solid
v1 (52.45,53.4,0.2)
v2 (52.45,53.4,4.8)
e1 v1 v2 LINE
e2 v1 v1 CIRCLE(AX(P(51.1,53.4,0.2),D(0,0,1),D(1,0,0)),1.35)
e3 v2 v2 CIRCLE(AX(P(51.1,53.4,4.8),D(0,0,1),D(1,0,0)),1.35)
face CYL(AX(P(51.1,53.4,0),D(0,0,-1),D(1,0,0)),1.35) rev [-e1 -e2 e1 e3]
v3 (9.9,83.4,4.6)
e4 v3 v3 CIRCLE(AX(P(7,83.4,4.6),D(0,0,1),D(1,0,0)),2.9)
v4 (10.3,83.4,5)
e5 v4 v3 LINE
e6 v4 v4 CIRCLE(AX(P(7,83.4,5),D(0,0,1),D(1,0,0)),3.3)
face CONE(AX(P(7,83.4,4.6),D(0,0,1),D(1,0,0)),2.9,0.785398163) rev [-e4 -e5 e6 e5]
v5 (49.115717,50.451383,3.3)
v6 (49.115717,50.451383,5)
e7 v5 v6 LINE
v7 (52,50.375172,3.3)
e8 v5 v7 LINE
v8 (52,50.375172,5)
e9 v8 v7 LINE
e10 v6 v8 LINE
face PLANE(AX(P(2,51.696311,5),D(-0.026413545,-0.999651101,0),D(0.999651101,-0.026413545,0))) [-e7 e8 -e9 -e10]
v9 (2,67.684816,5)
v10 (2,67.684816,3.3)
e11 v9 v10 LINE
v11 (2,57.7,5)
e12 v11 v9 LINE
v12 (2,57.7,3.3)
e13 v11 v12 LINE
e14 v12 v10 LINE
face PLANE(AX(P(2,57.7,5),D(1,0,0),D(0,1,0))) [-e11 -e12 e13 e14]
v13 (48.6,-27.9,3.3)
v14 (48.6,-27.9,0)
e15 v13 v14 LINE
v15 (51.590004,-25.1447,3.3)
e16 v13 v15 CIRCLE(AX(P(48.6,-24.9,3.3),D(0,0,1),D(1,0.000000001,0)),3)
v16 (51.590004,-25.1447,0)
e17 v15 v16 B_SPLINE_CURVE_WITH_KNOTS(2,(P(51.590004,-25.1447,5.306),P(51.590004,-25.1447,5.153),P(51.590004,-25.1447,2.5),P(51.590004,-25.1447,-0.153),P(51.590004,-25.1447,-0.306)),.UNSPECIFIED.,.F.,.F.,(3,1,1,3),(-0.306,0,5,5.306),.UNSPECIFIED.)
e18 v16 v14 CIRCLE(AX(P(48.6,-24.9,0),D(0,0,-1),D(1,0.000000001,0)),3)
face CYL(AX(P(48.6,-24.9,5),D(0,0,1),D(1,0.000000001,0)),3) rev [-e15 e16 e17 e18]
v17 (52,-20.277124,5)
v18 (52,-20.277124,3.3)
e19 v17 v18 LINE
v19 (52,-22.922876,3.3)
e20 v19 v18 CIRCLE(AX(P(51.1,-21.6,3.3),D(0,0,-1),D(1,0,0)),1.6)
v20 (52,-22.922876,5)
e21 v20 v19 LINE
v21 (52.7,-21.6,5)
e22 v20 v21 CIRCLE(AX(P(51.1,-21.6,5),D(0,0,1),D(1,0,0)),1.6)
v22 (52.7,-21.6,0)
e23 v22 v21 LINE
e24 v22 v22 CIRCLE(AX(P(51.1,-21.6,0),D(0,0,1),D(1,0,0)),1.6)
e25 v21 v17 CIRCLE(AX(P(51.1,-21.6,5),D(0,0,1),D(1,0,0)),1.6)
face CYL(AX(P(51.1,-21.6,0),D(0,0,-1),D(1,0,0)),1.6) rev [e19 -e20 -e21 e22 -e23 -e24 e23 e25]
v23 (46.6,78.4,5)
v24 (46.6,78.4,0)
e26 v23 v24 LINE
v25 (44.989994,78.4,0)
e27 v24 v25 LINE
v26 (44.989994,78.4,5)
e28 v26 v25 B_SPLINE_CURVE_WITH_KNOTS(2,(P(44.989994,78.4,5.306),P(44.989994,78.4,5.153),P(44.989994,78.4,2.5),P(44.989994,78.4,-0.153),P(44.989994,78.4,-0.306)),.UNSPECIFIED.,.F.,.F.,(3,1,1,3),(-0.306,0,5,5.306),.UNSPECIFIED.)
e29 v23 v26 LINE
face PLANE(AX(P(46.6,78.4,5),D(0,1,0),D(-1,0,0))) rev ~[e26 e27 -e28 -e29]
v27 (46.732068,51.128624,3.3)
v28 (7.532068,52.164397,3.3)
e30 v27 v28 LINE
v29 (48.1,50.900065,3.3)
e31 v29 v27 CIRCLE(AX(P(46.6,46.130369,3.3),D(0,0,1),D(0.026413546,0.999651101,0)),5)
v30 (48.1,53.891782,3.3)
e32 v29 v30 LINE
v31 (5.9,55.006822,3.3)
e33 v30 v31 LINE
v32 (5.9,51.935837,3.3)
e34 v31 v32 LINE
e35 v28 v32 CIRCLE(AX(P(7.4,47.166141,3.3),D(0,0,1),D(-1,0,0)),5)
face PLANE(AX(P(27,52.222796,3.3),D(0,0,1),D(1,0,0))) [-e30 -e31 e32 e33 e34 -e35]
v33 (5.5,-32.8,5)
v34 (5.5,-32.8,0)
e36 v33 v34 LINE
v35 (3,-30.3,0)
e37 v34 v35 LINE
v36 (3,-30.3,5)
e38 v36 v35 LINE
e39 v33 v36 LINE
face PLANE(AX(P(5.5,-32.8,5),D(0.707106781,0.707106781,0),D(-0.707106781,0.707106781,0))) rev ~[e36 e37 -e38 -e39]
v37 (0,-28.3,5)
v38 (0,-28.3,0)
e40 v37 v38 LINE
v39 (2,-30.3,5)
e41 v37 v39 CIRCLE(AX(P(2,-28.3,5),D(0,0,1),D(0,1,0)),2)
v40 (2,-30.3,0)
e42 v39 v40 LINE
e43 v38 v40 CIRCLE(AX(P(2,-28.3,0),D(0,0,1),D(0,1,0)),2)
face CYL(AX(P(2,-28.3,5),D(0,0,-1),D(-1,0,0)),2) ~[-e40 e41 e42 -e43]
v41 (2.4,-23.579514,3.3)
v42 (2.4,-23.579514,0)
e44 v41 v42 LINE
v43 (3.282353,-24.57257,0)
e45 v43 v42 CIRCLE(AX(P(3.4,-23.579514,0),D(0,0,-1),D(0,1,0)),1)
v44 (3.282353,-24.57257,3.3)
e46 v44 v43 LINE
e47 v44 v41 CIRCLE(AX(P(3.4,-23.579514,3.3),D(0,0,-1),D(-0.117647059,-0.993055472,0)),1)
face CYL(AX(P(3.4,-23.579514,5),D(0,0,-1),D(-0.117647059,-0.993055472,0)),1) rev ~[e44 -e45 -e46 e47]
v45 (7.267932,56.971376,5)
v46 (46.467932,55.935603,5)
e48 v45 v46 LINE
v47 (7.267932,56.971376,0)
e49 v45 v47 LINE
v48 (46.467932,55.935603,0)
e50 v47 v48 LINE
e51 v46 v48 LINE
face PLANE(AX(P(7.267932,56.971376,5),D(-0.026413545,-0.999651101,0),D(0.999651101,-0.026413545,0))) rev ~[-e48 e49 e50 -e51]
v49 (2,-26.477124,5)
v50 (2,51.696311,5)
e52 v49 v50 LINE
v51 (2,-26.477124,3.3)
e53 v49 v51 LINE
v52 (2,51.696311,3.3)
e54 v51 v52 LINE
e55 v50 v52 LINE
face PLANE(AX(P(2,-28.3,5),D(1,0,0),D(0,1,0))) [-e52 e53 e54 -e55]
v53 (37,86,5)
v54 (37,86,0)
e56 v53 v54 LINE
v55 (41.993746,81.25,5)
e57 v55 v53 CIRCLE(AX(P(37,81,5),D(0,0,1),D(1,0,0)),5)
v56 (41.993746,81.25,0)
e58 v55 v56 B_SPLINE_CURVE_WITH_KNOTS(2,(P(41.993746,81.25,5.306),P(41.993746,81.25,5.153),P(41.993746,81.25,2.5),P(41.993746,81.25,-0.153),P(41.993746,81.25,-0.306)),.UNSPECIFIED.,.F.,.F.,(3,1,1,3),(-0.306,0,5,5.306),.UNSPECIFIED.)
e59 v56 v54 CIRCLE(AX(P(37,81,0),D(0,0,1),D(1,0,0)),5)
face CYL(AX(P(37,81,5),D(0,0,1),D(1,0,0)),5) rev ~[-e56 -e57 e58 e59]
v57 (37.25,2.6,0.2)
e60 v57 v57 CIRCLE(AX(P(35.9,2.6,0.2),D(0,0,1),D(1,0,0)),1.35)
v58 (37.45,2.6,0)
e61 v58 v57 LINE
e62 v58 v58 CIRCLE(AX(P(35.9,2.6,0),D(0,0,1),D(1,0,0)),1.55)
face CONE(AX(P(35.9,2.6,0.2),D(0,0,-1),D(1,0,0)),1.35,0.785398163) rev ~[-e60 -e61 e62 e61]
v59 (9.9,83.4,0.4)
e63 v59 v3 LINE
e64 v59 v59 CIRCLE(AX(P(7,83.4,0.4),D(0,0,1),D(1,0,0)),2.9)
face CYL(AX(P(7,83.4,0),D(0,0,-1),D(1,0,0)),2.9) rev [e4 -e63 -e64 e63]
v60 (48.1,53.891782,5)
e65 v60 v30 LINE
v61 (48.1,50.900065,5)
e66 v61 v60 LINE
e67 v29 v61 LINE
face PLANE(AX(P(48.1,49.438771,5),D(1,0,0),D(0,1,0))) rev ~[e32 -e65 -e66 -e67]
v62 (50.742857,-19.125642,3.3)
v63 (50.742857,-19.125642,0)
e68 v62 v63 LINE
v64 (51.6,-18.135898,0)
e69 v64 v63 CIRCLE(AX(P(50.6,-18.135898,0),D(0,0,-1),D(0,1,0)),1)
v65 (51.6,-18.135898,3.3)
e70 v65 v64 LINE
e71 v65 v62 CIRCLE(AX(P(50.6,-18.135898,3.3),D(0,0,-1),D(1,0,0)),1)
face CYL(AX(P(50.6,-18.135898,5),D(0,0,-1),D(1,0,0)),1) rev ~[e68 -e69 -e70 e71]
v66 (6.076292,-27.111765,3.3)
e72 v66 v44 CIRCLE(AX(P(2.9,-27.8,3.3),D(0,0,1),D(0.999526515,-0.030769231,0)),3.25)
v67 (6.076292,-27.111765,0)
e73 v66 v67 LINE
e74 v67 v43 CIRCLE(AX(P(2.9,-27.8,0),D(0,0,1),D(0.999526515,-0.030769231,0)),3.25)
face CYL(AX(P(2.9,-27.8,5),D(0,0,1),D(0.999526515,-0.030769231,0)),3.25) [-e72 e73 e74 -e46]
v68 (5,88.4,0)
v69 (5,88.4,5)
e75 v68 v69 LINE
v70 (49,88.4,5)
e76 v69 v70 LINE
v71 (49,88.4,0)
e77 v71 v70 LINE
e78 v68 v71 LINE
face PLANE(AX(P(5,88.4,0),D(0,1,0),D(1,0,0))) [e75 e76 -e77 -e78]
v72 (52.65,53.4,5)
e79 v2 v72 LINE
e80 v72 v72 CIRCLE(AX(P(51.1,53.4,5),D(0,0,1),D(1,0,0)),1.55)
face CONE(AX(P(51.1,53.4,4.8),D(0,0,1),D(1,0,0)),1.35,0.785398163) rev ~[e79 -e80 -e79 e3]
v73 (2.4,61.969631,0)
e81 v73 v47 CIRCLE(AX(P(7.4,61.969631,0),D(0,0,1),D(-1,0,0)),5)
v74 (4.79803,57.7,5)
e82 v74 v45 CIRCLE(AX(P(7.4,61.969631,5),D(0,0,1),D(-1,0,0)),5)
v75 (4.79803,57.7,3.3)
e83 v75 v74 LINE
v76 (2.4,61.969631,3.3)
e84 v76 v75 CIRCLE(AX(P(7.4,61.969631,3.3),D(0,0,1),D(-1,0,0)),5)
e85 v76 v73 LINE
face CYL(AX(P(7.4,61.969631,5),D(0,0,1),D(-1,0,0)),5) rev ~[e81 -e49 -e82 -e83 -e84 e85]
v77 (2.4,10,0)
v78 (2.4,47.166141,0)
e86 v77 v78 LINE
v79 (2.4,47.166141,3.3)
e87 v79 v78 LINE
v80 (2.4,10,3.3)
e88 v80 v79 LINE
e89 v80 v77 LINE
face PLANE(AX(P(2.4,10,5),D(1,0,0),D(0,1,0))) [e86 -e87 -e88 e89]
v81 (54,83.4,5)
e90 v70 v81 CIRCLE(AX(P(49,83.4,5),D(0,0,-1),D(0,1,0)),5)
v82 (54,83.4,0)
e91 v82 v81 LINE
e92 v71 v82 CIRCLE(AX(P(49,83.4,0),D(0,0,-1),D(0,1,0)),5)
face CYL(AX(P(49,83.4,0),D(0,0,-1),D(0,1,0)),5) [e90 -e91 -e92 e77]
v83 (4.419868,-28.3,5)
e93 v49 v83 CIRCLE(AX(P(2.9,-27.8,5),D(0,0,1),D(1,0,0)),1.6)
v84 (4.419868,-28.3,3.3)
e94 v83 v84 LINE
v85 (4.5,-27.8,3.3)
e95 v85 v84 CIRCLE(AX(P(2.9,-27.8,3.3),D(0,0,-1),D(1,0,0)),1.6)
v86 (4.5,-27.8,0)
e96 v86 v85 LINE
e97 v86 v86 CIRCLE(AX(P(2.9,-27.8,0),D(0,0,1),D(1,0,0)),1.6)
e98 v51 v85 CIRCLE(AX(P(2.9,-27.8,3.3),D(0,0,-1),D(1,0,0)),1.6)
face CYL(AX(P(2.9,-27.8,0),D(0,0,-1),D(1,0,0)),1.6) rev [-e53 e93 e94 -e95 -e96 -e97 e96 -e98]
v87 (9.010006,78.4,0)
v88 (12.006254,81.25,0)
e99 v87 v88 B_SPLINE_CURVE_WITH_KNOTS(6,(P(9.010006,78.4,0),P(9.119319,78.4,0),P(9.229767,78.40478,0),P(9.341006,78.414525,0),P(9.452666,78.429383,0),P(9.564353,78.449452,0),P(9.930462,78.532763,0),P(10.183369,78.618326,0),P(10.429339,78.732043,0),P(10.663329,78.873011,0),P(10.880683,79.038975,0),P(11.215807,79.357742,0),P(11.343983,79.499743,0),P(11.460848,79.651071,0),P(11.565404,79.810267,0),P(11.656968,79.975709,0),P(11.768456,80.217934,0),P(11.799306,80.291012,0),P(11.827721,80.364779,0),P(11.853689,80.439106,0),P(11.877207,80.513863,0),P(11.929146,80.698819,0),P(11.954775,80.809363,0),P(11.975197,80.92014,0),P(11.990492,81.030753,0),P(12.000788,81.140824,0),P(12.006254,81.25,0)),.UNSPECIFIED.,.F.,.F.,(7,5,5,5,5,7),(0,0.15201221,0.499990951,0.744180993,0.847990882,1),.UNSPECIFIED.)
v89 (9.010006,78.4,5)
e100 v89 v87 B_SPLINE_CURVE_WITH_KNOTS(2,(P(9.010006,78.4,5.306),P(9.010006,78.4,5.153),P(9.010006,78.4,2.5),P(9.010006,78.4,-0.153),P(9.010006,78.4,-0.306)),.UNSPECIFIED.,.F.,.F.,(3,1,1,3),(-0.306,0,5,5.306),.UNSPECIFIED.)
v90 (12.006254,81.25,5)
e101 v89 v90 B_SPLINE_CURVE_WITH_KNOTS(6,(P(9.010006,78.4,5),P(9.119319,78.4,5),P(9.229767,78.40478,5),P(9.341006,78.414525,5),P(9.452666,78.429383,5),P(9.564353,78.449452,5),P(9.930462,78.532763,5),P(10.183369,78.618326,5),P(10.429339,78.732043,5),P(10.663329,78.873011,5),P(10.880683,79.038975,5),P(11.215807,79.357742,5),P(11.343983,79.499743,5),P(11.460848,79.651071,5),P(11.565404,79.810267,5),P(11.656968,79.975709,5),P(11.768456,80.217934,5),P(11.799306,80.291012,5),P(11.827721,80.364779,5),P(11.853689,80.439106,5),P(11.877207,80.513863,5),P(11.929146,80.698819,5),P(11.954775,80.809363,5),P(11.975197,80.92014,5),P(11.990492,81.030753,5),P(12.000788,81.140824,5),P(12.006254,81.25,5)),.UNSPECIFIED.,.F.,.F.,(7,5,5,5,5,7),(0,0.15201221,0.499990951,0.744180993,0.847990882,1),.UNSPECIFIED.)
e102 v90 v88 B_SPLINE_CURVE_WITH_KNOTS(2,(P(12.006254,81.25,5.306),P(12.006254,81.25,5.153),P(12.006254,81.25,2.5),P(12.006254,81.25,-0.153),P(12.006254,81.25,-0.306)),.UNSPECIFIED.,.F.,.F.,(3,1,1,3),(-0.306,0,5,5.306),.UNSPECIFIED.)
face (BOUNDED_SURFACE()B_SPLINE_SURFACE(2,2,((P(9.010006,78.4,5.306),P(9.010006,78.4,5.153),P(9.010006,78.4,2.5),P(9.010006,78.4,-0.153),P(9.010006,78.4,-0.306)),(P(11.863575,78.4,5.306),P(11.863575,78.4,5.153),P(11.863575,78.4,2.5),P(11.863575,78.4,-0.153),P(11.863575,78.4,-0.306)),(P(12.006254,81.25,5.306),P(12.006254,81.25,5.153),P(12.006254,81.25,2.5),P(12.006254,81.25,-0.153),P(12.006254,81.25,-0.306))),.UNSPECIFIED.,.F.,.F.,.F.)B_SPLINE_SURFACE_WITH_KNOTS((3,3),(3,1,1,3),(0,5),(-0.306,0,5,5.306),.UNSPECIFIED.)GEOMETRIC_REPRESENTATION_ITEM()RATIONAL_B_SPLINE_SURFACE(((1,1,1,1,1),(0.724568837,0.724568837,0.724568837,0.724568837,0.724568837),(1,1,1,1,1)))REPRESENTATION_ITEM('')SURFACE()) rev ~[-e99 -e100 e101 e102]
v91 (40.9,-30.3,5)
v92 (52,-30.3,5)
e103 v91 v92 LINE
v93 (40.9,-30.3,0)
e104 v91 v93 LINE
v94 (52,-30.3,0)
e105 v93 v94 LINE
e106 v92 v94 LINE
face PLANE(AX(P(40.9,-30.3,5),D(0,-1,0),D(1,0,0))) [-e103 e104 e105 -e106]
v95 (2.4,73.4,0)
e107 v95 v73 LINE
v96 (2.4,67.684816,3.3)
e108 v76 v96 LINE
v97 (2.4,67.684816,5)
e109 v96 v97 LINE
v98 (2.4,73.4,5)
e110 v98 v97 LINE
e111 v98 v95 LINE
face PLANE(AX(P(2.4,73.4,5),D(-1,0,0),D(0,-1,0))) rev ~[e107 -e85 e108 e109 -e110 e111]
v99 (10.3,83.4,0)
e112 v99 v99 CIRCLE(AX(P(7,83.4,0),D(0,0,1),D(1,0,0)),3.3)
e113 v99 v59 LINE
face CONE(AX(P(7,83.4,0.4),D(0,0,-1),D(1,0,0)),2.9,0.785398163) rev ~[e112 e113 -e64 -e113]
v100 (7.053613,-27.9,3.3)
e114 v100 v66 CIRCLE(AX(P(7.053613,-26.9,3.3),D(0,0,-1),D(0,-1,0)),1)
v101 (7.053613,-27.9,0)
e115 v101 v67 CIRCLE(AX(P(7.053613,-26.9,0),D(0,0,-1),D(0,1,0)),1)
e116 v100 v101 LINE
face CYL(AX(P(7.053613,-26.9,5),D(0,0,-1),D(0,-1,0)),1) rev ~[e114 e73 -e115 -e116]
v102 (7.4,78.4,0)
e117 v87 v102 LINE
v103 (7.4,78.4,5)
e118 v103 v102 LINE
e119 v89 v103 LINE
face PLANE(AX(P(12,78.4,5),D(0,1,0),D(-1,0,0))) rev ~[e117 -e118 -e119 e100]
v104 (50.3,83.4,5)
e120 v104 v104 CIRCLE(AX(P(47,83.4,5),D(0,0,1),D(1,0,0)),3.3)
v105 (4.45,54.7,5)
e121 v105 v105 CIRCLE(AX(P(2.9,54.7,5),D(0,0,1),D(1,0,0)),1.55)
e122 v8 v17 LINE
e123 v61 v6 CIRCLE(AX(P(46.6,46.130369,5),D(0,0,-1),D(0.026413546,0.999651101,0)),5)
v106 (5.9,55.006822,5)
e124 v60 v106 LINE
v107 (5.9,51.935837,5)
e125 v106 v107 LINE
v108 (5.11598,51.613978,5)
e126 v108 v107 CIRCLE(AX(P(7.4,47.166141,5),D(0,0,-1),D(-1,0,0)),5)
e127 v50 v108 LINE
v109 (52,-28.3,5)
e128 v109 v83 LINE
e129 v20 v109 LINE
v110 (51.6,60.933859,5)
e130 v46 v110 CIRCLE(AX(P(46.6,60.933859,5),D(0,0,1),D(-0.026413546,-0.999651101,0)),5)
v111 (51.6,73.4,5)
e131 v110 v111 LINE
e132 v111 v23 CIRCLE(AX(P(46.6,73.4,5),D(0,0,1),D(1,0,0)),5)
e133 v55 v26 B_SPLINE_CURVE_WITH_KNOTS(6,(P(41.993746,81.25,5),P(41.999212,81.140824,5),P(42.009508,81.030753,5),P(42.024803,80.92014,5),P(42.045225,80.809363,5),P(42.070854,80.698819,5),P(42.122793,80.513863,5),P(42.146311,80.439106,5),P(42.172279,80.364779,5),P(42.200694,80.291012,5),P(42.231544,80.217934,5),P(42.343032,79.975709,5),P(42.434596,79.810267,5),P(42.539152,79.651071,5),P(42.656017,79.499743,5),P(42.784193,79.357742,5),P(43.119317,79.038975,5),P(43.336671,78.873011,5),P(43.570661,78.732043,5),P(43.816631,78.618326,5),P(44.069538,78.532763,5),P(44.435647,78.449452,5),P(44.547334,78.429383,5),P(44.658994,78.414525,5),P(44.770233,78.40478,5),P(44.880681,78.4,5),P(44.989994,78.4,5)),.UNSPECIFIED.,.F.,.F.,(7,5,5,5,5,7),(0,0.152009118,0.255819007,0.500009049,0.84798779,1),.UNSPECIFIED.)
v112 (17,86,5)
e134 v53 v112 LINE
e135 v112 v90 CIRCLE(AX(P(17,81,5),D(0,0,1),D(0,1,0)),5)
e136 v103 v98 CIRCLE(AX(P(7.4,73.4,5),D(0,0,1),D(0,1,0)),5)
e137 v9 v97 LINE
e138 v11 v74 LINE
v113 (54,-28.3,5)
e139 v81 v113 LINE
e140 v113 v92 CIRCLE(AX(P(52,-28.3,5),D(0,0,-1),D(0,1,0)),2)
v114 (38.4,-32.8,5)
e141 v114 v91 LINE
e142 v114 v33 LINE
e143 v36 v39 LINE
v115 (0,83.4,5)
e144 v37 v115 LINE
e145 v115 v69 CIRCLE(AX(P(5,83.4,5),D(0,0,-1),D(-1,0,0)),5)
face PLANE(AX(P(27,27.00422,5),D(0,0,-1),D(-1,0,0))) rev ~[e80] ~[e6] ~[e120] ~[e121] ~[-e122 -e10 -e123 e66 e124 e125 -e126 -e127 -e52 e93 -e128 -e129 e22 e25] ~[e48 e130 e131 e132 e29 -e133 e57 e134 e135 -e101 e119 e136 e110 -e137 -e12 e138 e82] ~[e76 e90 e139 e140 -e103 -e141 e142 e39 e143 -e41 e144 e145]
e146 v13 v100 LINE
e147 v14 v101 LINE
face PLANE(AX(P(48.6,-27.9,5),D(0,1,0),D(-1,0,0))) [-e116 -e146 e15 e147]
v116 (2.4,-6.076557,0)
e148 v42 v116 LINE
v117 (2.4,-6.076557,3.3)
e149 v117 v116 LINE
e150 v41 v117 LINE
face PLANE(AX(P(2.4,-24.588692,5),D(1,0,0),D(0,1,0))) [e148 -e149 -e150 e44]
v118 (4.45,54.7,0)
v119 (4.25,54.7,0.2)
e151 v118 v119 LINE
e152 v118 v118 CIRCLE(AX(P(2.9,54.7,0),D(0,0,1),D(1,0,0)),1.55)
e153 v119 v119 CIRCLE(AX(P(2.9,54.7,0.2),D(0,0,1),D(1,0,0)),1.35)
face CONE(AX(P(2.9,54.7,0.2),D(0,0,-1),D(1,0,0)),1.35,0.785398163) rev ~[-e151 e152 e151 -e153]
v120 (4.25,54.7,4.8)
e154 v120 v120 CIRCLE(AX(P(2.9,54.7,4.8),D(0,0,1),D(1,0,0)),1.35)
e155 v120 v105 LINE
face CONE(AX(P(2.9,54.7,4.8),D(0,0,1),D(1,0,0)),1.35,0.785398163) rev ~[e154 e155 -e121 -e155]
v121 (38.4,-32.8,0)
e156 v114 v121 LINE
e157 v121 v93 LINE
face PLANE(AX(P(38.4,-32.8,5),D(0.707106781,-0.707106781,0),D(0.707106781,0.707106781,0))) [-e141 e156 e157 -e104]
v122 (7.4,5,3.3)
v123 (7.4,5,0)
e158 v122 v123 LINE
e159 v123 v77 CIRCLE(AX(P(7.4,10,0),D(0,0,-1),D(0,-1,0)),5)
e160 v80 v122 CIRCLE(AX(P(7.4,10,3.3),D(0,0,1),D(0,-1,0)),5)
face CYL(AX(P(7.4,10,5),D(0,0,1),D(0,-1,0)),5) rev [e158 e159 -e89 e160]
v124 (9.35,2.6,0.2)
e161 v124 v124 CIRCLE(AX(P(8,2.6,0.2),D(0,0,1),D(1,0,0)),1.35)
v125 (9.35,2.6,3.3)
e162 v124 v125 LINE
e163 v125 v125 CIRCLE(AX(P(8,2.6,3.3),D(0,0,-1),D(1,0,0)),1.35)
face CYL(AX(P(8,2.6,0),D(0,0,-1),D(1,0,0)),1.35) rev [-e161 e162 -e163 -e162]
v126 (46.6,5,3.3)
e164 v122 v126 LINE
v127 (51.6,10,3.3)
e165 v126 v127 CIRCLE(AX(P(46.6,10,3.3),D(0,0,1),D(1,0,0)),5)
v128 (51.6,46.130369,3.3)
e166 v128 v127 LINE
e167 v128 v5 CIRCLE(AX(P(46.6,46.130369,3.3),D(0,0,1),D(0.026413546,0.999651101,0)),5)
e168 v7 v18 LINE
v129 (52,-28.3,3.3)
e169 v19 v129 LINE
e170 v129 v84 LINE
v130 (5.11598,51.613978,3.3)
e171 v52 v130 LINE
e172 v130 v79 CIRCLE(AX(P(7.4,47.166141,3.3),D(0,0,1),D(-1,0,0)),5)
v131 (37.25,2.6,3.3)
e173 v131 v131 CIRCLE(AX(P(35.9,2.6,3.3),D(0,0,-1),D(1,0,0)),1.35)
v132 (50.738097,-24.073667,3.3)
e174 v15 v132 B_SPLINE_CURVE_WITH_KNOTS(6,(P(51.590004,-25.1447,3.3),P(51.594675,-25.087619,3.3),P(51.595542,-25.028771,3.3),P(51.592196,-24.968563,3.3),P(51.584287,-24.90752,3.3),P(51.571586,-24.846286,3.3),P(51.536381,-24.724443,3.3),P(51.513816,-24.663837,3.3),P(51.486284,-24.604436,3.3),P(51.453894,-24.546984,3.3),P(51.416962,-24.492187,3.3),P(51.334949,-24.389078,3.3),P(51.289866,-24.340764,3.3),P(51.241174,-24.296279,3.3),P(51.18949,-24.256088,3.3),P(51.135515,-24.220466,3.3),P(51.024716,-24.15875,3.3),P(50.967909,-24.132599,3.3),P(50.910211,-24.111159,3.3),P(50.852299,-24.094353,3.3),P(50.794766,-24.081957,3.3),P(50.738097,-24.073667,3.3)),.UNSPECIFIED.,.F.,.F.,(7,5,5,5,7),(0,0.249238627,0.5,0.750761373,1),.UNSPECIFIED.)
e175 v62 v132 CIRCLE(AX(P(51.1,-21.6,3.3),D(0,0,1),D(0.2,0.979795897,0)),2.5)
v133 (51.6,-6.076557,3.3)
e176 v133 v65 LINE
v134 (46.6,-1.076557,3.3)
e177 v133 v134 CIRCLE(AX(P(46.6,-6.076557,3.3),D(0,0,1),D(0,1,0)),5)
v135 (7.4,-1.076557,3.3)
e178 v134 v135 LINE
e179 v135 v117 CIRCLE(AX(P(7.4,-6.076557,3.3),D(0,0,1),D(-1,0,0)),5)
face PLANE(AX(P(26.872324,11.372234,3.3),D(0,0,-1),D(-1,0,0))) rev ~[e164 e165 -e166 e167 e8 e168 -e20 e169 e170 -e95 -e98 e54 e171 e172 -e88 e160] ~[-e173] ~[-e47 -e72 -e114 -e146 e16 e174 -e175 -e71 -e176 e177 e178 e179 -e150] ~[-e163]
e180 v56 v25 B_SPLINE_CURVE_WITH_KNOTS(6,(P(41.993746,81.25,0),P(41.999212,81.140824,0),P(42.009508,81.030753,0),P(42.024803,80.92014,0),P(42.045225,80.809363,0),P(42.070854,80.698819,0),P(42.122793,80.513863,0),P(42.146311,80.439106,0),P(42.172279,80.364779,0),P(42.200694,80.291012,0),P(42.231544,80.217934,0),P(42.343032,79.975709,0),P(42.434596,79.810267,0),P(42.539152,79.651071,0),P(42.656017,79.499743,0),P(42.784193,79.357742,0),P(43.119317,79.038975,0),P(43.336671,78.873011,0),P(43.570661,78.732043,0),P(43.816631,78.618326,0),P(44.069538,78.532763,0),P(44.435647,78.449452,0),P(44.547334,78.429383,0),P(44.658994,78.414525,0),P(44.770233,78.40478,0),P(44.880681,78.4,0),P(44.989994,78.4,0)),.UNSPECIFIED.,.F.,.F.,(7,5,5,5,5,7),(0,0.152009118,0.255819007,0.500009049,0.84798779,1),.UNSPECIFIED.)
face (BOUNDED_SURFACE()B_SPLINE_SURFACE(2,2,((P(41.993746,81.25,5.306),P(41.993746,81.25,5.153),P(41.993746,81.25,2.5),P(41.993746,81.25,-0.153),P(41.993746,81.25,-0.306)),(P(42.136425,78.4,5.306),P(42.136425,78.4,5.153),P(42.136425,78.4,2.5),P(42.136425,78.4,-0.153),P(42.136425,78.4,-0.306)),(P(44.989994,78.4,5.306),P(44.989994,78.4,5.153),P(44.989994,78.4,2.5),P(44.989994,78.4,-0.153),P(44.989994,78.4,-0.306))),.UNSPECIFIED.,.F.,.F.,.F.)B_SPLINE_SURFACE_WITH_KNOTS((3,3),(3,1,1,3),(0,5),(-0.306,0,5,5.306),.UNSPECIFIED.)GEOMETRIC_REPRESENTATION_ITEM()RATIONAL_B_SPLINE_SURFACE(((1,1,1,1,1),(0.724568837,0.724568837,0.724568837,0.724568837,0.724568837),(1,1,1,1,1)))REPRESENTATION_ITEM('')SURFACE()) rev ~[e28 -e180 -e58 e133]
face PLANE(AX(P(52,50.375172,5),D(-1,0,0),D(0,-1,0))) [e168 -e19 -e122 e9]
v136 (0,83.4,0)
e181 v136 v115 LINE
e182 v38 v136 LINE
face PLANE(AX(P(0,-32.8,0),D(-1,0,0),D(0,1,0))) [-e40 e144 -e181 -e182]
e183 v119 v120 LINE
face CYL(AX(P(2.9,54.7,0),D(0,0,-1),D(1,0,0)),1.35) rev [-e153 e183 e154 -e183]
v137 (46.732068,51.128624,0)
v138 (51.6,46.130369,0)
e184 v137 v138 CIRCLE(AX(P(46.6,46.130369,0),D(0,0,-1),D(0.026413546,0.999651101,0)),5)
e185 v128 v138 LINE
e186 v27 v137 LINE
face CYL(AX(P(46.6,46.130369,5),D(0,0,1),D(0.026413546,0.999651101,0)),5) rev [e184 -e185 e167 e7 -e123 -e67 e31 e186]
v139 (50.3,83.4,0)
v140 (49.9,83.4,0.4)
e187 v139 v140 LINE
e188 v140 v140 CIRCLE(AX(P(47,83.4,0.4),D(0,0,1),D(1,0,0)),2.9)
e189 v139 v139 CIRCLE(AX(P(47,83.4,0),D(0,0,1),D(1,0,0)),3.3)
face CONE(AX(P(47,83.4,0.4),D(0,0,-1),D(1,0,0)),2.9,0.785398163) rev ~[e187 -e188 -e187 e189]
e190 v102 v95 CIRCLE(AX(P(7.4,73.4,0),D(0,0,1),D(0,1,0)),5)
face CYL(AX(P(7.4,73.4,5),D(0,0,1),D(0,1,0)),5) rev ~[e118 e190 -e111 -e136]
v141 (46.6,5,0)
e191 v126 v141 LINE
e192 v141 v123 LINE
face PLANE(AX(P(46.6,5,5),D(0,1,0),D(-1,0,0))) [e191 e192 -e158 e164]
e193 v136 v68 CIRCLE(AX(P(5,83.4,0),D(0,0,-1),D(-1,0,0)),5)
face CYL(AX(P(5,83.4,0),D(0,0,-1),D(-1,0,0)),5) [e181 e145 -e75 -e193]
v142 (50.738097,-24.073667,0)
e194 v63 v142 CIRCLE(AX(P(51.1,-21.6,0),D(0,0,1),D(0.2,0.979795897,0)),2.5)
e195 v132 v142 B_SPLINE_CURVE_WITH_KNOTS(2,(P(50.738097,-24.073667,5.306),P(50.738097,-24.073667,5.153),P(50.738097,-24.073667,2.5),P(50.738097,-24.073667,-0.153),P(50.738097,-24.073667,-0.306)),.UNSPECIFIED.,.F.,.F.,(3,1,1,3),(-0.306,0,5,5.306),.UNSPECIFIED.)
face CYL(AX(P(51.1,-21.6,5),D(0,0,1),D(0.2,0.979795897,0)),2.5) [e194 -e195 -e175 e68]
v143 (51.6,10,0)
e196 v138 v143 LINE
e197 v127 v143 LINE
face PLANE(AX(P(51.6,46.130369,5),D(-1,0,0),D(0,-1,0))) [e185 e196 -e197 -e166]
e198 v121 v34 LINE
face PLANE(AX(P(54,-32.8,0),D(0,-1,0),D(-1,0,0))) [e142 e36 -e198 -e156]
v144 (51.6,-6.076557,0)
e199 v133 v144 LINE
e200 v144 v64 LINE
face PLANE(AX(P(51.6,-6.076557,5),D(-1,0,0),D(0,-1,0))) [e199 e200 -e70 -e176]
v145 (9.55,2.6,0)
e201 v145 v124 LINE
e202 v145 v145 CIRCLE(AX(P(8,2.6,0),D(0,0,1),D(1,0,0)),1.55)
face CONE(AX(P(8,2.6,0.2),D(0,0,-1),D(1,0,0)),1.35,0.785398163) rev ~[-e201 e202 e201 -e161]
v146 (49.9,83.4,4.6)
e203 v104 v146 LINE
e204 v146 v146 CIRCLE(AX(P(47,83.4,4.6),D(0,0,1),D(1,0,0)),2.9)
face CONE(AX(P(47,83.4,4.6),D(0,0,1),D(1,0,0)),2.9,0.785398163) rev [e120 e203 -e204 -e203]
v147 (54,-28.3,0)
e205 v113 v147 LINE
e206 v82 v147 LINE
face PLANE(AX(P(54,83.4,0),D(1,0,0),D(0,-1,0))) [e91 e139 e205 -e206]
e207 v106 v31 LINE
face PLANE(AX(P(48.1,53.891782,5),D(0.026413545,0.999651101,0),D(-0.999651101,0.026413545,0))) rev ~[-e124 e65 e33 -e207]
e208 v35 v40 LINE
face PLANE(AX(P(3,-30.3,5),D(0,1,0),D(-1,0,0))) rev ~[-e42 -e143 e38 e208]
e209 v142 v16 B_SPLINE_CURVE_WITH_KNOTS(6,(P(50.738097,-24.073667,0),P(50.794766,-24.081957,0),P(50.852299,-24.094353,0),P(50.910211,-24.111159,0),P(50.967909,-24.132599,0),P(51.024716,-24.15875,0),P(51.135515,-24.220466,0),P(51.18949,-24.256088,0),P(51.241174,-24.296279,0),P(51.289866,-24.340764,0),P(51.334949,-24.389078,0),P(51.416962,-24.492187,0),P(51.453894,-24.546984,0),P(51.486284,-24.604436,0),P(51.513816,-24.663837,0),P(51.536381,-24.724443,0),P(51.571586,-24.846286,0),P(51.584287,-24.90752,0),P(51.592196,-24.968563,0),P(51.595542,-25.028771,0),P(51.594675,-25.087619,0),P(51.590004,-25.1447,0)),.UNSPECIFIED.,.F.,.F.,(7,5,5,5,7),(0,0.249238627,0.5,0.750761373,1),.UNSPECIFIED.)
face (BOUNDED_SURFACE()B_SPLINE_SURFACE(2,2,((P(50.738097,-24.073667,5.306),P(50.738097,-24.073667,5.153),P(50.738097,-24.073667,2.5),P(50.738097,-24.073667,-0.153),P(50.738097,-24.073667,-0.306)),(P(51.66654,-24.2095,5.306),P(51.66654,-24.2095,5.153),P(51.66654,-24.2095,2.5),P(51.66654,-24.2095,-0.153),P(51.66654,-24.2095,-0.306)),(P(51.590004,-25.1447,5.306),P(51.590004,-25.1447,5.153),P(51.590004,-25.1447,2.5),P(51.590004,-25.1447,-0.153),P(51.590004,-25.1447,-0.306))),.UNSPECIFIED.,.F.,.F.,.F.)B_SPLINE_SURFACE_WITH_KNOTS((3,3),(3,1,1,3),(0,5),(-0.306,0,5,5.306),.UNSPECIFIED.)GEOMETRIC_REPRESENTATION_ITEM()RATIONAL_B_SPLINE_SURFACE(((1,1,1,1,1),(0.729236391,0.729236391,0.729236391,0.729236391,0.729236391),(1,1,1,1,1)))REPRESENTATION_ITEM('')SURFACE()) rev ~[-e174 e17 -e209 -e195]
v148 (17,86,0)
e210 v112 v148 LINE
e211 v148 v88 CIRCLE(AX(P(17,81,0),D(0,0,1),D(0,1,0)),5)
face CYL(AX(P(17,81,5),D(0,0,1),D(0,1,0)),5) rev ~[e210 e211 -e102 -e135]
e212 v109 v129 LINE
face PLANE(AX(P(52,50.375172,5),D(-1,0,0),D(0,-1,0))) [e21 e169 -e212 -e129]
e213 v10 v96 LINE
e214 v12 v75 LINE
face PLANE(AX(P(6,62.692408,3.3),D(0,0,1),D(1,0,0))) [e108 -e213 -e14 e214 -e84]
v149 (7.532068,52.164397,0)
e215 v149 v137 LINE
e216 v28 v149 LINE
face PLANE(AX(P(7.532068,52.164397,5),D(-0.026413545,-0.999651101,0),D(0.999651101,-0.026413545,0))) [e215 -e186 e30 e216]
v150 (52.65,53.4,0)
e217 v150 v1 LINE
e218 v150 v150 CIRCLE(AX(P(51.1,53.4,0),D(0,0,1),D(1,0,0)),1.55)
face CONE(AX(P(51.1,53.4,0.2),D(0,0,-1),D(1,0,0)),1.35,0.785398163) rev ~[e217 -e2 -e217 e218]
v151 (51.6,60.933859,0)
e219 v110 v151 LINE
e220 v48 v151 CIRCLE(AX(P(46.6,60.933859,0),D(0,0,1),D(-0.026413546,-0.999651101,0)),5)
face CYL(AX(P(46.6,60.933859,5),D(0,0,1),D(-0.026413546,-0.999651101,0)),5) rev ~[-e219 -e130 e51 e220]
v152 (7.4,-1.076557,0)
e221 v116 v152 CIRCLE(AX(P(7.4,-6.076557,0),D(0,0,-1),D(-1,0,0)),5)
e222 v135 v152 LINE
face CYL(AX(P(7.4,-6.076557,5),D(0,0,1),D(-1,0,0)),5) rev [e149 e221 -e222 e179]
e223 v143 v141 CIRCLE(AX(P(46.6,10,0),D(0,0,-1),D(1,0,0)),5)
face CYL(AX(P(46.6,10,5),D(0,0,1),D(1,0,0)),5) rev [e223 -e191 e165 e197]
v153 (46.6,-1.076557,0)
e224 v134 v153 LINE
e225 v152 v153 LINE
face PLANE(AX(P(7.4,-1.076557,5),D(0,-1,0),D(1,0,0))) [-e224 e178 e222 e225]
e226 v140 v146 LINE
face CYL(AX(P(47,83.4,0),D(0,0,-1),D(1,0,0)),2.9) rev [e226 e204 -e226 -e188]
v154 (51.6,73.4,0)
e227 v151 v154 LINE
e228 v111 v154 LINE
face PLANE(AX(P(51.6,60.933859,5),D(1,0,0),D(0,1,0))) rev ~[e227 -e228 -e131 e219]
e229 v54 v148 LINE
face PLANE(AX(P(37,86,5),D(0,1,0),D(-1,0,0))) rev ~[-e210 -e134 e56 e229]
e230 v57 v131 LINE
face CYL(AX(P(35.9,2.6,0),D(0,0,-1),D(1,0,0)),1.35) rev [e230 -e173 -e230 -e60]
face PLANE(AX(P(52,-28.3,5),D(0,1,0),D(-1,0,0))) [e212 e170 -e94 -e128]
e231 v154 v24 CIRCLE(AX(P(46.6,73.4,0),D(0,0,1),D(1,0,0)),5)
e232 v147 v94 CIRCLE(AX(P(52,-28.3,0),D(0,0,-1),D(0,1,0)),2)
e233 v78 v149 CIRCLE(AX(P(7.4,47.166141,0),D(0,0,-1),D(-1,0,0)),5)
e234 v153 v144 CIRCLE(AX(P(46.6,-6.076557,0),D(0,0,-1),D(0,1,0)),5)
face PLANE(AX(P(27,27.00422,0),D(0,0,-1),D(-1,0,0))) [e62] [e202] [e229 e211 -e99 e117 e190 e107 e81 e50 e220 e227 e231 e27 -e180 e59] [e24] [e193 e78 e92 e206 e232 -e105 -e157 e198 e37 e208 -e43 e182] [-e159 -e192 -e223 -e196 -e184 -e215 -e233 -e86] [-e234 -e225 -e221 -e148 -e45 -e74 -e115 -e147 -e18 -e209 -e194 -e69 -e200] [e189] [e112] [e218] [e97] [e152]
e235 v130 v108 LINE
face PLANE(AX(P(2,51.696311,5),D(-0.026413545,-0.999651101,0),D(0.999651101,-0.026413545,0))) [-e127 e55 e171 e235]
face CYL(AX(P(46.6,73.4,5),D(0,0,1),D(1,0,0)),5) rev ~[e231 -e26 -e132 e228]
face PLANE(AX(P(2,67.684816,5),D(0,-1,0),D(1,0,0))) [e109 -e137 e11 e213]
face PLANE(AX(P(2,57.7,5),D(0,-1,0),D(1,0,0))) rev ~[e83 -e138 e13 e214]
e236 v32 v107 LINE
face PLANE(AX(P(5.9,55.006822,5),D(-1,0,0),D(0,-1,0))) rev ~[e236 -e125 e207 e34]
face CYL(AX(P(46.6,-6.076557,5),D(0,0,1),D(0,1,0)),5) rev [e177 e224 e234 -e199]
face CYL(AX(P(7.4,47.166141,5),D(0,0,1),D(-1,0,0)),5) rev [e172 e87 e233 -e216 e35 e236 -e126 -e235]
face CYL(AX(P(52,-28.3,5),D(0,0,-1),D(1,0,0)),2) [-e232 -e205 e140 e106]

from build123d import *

# Parameters (mm, degrees)
SKETCH1_R           = 2.9
SKETCH1_R_2         = 1.35
SKETCH1_R_3         = 1.6
BOSS_EXTRUDE1_DEPTH = 5
CUT_EXTRUDE1_DEPTH  = 5
CUT_EXTRUDE2_DEPTH  = 5
CHAMFER1_SIZE       = 0.4
CHAMFER2_SIZE       = 0.2
FILLET1_R           = 3
FILLET2_R           = 2
FILLET3_R           = 1
SKETCH4_W           = 20.9
SKETCH4_H           = 6.076557184
CUT_EXTRUDE3_DEPTH  = 1.7
SKETCH5_W           = 8
SKETCH5_H           = 9.98481564
CUT_EXTRUDE5_DEPTH  = 1.7
CUT_EXTRUDE6_DEPTH  = 1.7


with BuildPart() as part:
    # Sketch1 → Boss-Extrude1 (new body)
    with BuildSketch(Plane.XY):
        with BuildLine():
            Line((0, 0), (0, 83.4))
            ThreePointArc((0, 83.4), (1.464466094, 86.935533906), (5, 88.4))
            Line((5, 88.4), (49, 88.4))
            ThreePointArc((49, 88.4), (52.535533906, 86.935533906), (54, 83.4))
            Line((54, 83.4), (54, 0))
            Line((54, 0), (54, -32.8))
            Line((54, -32.8), (0, -32.8))
            Line((0, -32.8), (0, 0))
        make_face()
        with Locations((7, 83.4)):
            Circle(SKETCH1_R, mode=Mode.SUBTRACT)
        with Locations((47, 83.4)):
            Circle(SKETCH1_R, mode=Mode.SUBTRACT)
        with Locations((2.9, 54.7)):
            Circle(SKETCH1_R_2, mode=Mode.SUBTRACT)
        with Locations((51.1, 53.4)):
            Circle(SKETCH1_R_2, mode=Mode.SUBTRACT)
        with Locations((8, 2.6)):
            Circle(SKETCH1_R_2, mode=Mode.SUBTRACT)
        with Locations((35.9, 2.6)):
            Circle(SKETCH1_R_2, mode=Mode.SUBTRACT)
        with Locations((2.9, -27.8)):
            Circle(SKETCH1_R_3, mode=Mode.SUBTRACT)
        with Locations((51.1, -21.6)):
            Circle(SKETCH1_R_3, mode=Mode.SUBTRACT)
    extrude(amount=BOSS_EXTRUDE1_DEPTH)

    # Sketch2 → Cut-Extrude1 (cut)
    with BuildSketch(Plane.XY.offset(5)):
        Polygon((5.5, -32.8), (3, -30.3), (0, -30.3), (0, -32.8), align=None)
        Polygon((38.4, -32.8), (40.9, -30.3), (54, -30.3), (54, -32.8), align=None)
    extrude(amount=-CUT_EXTRUDE1_DEPTH, mode=Mode.SUBTRACT)

    # Sketch3 → Cut-Extrude2 (cut)
    with BuildSketch(Plane.XY.offset(5)):
        with BuildLine():
            Line((12, 81), (12, 78.4))
            Line((12, 78.4), (7.4, 78.4))
            ThreePointArc((7.4, 78.4), (3.864466094, 76.935533906), (2.4, 73.4))
            Line((2.4, 73.4), (2.4, 61.96963128))
            ThreePointArc((2.4, 61.96963128), (3.818077427, 58.48110284), (7.267932273, 56.971375773))
            Line((7.267932273, 56.971375773), (46.467932273, 55.935603416))
            ThreePointArc((46.467932273, 55.935603416), (50.088528441, 57.35193635), (51.6, 60.933858923))
            Line((51.6, 60.933858923), (51.6, 73.4))
            ThreePointArc((51.6, 73.4), (50.135533906, 76.935533906), (46.6, 78.4))
            Line((46.6, 78.4), (42, 78.4))
            Line((42, 78.4), (42, 81))
            ThreePointArc((42, 81), (40.535533906, 84.535533906), (37, 86))
            Line((37, 86), (17, 86))
            ThreePointArc((17, 86), (13.464466094, 84.535533906), (12, 81))
        make_face()
        with BuildLine():
            Line((7.532067727, 52.164396584), (46.732067727, 51.128624227))
            ThreePointArc((46.732067727, 51.128624227), (50.181922573, 49.61889716), (51.6, 46.13036872))
            Line((51.6, 46.13036872), (51.6, 10))
            ThreePointArc((51.6, 10), (50.135533906, 6.464466094), (46.6, 5))
            Line((46.6, 5), (7.4, 5))
            ThreePointArc((7.4, 5), (3.864466094, 6.464466094), (2.4, 10))
            Line((2.4, 10), (2.4, 47.166141077))
            ThreePointArc((2.4, 47.166141077), (3.911471559, 50.74806365), (7.532067727, 52.164396584))
        make_face()
        with BuildLine():
            Line((7.4, -1.076557184), (46.6, -1.076557184))
            ThreePointArc((46.6, -1.076557184), (50.135533906, -2.541023278), (51.6, -6.076557184))
            Line((51.6, -6.076557184), (51.6, -19.150510257))
            ThreePointArc((51.6, -19.150510257), (48.6, -21.6), (51.6, -24.049489743))
            Line((51.6, -24.049489743), (51.6, -24.9))
            ThreePointArc((51.6, -24.9), (50.721320344, -27.021320344), (48.6, -27.9))
            Line((48.6, -27.9), (6.148461174, -27.9))
            ThreePointArc((6.148461174, -27.9), (5.051673794, -25.364266048), (2.4, -24.588691855))
            Line((2.4, -24.588691855), (2.4, -6.076557184))
            ThreePointArc((2.4, -6.076557184), (3.864466094, -2.541023278), (7.4, -1.076557184))
        make_face()
    extrude(amount=-CUT_EXTRUDE2_DEPTH, mode=Mode.SUBTRACT)

    # Chamfer1
    chamfer1_edges = [part.edges().sort_by_distance(p)[0] for p in [
        (4.1, 83.4, 0),
        (4.1, 83.4, 5),
        (44.1, 83.4, 0),
        (44.1, 83.4, 5),
    ]]
    chamfer(chamfer1_edges, length=CHAMFER1_SIZE)

    # Chamfer2
    chamfer2_edges = [part.edges().sort_by_distance(p)[0] for p in [
        (1.55, 54.7, 0),
        (1.55, 54.7, 5),
        (49.75, 53.4, 0),
        (49.75, 53.4, 5),
        (6.65, 2.6, 0),
        (6.65, 2.6, 5),
        (34.55, 2.6, 0),
        (34.55, 2.6, 5),
    ]]
    chamfer(chamfer2_edges, length=CHAMFER2_SIZE)

    # Fillet1
    fillet1_edges = [part.edges().sort_by_distance(p)[0] for p in [
        (42, 78.4, 2.5),
        (12, 78.4, 2.5),
    ]]
    fillet(fillet1_edges, radius=FILLET1_R)

    # Fillet2
    fillet2_edges = [part.edges().sort_by_distance(p)[0] for p in [
        (0, -30.3, 2.5),
        (54, -30.3, 2.5),
    ]]
    fillet(fillet2_edges, radius=FILLET2_R)

    # Fillet3
    fillet3_edges = [part.edges().sort_by_distance(p)[0] for p in [
        (51.6, -24.049489743, 2.5),
        (51.6, -19.150510257, 2.5),
        (6.148461174, -27.9, 2.5),
        (2.4, -24.588691855, 2.5),
    ]]
    fillet(fillet3_edges, radius=FILLET3_R)

    # Sketch4 → Cut-Extrude3 (cut)
    with BuildSketch(Plane.XY.offset(5)):
        with Locations((21.95, 1.961721408)):
            Rectangle(SKETCH4_W, SKETCH4_H)
    extrude(amount=-CUT_EXTRUDE3_DEPTH, mode=Mode.SUBTRACT)

    # Sketch5 → Cut-Extrude5 (cut)
    with BuildSketch(Plane.XY.offset(5)):
        Polygon((2, 51.696310663), (52, 50.375172451), (52, -28.3), (2, -28.3), align=None)
        with Locations((6, 62.69240782)):
            Rectangle(SKETCH5_W, SKETCH5_H)
    extrude(amount=-CUT_EXTRUDE5_DEPTH, mode=Mode.SUBTRACT)

    # Sketch6 → Cut-Extrude6 (cut)
    with BuildSketch(Plane.XY.offset(5)):
        Polygon((48.1, 53.891781634), (5.9, 55.006822285), (5.9, 50.553811317), (48.1, 49.438770667), align=None)
    extrude(amount=-CUT_EXTRUDE6_DEPTH, mode=Mode.SUBTRACT)


solid = part.part
